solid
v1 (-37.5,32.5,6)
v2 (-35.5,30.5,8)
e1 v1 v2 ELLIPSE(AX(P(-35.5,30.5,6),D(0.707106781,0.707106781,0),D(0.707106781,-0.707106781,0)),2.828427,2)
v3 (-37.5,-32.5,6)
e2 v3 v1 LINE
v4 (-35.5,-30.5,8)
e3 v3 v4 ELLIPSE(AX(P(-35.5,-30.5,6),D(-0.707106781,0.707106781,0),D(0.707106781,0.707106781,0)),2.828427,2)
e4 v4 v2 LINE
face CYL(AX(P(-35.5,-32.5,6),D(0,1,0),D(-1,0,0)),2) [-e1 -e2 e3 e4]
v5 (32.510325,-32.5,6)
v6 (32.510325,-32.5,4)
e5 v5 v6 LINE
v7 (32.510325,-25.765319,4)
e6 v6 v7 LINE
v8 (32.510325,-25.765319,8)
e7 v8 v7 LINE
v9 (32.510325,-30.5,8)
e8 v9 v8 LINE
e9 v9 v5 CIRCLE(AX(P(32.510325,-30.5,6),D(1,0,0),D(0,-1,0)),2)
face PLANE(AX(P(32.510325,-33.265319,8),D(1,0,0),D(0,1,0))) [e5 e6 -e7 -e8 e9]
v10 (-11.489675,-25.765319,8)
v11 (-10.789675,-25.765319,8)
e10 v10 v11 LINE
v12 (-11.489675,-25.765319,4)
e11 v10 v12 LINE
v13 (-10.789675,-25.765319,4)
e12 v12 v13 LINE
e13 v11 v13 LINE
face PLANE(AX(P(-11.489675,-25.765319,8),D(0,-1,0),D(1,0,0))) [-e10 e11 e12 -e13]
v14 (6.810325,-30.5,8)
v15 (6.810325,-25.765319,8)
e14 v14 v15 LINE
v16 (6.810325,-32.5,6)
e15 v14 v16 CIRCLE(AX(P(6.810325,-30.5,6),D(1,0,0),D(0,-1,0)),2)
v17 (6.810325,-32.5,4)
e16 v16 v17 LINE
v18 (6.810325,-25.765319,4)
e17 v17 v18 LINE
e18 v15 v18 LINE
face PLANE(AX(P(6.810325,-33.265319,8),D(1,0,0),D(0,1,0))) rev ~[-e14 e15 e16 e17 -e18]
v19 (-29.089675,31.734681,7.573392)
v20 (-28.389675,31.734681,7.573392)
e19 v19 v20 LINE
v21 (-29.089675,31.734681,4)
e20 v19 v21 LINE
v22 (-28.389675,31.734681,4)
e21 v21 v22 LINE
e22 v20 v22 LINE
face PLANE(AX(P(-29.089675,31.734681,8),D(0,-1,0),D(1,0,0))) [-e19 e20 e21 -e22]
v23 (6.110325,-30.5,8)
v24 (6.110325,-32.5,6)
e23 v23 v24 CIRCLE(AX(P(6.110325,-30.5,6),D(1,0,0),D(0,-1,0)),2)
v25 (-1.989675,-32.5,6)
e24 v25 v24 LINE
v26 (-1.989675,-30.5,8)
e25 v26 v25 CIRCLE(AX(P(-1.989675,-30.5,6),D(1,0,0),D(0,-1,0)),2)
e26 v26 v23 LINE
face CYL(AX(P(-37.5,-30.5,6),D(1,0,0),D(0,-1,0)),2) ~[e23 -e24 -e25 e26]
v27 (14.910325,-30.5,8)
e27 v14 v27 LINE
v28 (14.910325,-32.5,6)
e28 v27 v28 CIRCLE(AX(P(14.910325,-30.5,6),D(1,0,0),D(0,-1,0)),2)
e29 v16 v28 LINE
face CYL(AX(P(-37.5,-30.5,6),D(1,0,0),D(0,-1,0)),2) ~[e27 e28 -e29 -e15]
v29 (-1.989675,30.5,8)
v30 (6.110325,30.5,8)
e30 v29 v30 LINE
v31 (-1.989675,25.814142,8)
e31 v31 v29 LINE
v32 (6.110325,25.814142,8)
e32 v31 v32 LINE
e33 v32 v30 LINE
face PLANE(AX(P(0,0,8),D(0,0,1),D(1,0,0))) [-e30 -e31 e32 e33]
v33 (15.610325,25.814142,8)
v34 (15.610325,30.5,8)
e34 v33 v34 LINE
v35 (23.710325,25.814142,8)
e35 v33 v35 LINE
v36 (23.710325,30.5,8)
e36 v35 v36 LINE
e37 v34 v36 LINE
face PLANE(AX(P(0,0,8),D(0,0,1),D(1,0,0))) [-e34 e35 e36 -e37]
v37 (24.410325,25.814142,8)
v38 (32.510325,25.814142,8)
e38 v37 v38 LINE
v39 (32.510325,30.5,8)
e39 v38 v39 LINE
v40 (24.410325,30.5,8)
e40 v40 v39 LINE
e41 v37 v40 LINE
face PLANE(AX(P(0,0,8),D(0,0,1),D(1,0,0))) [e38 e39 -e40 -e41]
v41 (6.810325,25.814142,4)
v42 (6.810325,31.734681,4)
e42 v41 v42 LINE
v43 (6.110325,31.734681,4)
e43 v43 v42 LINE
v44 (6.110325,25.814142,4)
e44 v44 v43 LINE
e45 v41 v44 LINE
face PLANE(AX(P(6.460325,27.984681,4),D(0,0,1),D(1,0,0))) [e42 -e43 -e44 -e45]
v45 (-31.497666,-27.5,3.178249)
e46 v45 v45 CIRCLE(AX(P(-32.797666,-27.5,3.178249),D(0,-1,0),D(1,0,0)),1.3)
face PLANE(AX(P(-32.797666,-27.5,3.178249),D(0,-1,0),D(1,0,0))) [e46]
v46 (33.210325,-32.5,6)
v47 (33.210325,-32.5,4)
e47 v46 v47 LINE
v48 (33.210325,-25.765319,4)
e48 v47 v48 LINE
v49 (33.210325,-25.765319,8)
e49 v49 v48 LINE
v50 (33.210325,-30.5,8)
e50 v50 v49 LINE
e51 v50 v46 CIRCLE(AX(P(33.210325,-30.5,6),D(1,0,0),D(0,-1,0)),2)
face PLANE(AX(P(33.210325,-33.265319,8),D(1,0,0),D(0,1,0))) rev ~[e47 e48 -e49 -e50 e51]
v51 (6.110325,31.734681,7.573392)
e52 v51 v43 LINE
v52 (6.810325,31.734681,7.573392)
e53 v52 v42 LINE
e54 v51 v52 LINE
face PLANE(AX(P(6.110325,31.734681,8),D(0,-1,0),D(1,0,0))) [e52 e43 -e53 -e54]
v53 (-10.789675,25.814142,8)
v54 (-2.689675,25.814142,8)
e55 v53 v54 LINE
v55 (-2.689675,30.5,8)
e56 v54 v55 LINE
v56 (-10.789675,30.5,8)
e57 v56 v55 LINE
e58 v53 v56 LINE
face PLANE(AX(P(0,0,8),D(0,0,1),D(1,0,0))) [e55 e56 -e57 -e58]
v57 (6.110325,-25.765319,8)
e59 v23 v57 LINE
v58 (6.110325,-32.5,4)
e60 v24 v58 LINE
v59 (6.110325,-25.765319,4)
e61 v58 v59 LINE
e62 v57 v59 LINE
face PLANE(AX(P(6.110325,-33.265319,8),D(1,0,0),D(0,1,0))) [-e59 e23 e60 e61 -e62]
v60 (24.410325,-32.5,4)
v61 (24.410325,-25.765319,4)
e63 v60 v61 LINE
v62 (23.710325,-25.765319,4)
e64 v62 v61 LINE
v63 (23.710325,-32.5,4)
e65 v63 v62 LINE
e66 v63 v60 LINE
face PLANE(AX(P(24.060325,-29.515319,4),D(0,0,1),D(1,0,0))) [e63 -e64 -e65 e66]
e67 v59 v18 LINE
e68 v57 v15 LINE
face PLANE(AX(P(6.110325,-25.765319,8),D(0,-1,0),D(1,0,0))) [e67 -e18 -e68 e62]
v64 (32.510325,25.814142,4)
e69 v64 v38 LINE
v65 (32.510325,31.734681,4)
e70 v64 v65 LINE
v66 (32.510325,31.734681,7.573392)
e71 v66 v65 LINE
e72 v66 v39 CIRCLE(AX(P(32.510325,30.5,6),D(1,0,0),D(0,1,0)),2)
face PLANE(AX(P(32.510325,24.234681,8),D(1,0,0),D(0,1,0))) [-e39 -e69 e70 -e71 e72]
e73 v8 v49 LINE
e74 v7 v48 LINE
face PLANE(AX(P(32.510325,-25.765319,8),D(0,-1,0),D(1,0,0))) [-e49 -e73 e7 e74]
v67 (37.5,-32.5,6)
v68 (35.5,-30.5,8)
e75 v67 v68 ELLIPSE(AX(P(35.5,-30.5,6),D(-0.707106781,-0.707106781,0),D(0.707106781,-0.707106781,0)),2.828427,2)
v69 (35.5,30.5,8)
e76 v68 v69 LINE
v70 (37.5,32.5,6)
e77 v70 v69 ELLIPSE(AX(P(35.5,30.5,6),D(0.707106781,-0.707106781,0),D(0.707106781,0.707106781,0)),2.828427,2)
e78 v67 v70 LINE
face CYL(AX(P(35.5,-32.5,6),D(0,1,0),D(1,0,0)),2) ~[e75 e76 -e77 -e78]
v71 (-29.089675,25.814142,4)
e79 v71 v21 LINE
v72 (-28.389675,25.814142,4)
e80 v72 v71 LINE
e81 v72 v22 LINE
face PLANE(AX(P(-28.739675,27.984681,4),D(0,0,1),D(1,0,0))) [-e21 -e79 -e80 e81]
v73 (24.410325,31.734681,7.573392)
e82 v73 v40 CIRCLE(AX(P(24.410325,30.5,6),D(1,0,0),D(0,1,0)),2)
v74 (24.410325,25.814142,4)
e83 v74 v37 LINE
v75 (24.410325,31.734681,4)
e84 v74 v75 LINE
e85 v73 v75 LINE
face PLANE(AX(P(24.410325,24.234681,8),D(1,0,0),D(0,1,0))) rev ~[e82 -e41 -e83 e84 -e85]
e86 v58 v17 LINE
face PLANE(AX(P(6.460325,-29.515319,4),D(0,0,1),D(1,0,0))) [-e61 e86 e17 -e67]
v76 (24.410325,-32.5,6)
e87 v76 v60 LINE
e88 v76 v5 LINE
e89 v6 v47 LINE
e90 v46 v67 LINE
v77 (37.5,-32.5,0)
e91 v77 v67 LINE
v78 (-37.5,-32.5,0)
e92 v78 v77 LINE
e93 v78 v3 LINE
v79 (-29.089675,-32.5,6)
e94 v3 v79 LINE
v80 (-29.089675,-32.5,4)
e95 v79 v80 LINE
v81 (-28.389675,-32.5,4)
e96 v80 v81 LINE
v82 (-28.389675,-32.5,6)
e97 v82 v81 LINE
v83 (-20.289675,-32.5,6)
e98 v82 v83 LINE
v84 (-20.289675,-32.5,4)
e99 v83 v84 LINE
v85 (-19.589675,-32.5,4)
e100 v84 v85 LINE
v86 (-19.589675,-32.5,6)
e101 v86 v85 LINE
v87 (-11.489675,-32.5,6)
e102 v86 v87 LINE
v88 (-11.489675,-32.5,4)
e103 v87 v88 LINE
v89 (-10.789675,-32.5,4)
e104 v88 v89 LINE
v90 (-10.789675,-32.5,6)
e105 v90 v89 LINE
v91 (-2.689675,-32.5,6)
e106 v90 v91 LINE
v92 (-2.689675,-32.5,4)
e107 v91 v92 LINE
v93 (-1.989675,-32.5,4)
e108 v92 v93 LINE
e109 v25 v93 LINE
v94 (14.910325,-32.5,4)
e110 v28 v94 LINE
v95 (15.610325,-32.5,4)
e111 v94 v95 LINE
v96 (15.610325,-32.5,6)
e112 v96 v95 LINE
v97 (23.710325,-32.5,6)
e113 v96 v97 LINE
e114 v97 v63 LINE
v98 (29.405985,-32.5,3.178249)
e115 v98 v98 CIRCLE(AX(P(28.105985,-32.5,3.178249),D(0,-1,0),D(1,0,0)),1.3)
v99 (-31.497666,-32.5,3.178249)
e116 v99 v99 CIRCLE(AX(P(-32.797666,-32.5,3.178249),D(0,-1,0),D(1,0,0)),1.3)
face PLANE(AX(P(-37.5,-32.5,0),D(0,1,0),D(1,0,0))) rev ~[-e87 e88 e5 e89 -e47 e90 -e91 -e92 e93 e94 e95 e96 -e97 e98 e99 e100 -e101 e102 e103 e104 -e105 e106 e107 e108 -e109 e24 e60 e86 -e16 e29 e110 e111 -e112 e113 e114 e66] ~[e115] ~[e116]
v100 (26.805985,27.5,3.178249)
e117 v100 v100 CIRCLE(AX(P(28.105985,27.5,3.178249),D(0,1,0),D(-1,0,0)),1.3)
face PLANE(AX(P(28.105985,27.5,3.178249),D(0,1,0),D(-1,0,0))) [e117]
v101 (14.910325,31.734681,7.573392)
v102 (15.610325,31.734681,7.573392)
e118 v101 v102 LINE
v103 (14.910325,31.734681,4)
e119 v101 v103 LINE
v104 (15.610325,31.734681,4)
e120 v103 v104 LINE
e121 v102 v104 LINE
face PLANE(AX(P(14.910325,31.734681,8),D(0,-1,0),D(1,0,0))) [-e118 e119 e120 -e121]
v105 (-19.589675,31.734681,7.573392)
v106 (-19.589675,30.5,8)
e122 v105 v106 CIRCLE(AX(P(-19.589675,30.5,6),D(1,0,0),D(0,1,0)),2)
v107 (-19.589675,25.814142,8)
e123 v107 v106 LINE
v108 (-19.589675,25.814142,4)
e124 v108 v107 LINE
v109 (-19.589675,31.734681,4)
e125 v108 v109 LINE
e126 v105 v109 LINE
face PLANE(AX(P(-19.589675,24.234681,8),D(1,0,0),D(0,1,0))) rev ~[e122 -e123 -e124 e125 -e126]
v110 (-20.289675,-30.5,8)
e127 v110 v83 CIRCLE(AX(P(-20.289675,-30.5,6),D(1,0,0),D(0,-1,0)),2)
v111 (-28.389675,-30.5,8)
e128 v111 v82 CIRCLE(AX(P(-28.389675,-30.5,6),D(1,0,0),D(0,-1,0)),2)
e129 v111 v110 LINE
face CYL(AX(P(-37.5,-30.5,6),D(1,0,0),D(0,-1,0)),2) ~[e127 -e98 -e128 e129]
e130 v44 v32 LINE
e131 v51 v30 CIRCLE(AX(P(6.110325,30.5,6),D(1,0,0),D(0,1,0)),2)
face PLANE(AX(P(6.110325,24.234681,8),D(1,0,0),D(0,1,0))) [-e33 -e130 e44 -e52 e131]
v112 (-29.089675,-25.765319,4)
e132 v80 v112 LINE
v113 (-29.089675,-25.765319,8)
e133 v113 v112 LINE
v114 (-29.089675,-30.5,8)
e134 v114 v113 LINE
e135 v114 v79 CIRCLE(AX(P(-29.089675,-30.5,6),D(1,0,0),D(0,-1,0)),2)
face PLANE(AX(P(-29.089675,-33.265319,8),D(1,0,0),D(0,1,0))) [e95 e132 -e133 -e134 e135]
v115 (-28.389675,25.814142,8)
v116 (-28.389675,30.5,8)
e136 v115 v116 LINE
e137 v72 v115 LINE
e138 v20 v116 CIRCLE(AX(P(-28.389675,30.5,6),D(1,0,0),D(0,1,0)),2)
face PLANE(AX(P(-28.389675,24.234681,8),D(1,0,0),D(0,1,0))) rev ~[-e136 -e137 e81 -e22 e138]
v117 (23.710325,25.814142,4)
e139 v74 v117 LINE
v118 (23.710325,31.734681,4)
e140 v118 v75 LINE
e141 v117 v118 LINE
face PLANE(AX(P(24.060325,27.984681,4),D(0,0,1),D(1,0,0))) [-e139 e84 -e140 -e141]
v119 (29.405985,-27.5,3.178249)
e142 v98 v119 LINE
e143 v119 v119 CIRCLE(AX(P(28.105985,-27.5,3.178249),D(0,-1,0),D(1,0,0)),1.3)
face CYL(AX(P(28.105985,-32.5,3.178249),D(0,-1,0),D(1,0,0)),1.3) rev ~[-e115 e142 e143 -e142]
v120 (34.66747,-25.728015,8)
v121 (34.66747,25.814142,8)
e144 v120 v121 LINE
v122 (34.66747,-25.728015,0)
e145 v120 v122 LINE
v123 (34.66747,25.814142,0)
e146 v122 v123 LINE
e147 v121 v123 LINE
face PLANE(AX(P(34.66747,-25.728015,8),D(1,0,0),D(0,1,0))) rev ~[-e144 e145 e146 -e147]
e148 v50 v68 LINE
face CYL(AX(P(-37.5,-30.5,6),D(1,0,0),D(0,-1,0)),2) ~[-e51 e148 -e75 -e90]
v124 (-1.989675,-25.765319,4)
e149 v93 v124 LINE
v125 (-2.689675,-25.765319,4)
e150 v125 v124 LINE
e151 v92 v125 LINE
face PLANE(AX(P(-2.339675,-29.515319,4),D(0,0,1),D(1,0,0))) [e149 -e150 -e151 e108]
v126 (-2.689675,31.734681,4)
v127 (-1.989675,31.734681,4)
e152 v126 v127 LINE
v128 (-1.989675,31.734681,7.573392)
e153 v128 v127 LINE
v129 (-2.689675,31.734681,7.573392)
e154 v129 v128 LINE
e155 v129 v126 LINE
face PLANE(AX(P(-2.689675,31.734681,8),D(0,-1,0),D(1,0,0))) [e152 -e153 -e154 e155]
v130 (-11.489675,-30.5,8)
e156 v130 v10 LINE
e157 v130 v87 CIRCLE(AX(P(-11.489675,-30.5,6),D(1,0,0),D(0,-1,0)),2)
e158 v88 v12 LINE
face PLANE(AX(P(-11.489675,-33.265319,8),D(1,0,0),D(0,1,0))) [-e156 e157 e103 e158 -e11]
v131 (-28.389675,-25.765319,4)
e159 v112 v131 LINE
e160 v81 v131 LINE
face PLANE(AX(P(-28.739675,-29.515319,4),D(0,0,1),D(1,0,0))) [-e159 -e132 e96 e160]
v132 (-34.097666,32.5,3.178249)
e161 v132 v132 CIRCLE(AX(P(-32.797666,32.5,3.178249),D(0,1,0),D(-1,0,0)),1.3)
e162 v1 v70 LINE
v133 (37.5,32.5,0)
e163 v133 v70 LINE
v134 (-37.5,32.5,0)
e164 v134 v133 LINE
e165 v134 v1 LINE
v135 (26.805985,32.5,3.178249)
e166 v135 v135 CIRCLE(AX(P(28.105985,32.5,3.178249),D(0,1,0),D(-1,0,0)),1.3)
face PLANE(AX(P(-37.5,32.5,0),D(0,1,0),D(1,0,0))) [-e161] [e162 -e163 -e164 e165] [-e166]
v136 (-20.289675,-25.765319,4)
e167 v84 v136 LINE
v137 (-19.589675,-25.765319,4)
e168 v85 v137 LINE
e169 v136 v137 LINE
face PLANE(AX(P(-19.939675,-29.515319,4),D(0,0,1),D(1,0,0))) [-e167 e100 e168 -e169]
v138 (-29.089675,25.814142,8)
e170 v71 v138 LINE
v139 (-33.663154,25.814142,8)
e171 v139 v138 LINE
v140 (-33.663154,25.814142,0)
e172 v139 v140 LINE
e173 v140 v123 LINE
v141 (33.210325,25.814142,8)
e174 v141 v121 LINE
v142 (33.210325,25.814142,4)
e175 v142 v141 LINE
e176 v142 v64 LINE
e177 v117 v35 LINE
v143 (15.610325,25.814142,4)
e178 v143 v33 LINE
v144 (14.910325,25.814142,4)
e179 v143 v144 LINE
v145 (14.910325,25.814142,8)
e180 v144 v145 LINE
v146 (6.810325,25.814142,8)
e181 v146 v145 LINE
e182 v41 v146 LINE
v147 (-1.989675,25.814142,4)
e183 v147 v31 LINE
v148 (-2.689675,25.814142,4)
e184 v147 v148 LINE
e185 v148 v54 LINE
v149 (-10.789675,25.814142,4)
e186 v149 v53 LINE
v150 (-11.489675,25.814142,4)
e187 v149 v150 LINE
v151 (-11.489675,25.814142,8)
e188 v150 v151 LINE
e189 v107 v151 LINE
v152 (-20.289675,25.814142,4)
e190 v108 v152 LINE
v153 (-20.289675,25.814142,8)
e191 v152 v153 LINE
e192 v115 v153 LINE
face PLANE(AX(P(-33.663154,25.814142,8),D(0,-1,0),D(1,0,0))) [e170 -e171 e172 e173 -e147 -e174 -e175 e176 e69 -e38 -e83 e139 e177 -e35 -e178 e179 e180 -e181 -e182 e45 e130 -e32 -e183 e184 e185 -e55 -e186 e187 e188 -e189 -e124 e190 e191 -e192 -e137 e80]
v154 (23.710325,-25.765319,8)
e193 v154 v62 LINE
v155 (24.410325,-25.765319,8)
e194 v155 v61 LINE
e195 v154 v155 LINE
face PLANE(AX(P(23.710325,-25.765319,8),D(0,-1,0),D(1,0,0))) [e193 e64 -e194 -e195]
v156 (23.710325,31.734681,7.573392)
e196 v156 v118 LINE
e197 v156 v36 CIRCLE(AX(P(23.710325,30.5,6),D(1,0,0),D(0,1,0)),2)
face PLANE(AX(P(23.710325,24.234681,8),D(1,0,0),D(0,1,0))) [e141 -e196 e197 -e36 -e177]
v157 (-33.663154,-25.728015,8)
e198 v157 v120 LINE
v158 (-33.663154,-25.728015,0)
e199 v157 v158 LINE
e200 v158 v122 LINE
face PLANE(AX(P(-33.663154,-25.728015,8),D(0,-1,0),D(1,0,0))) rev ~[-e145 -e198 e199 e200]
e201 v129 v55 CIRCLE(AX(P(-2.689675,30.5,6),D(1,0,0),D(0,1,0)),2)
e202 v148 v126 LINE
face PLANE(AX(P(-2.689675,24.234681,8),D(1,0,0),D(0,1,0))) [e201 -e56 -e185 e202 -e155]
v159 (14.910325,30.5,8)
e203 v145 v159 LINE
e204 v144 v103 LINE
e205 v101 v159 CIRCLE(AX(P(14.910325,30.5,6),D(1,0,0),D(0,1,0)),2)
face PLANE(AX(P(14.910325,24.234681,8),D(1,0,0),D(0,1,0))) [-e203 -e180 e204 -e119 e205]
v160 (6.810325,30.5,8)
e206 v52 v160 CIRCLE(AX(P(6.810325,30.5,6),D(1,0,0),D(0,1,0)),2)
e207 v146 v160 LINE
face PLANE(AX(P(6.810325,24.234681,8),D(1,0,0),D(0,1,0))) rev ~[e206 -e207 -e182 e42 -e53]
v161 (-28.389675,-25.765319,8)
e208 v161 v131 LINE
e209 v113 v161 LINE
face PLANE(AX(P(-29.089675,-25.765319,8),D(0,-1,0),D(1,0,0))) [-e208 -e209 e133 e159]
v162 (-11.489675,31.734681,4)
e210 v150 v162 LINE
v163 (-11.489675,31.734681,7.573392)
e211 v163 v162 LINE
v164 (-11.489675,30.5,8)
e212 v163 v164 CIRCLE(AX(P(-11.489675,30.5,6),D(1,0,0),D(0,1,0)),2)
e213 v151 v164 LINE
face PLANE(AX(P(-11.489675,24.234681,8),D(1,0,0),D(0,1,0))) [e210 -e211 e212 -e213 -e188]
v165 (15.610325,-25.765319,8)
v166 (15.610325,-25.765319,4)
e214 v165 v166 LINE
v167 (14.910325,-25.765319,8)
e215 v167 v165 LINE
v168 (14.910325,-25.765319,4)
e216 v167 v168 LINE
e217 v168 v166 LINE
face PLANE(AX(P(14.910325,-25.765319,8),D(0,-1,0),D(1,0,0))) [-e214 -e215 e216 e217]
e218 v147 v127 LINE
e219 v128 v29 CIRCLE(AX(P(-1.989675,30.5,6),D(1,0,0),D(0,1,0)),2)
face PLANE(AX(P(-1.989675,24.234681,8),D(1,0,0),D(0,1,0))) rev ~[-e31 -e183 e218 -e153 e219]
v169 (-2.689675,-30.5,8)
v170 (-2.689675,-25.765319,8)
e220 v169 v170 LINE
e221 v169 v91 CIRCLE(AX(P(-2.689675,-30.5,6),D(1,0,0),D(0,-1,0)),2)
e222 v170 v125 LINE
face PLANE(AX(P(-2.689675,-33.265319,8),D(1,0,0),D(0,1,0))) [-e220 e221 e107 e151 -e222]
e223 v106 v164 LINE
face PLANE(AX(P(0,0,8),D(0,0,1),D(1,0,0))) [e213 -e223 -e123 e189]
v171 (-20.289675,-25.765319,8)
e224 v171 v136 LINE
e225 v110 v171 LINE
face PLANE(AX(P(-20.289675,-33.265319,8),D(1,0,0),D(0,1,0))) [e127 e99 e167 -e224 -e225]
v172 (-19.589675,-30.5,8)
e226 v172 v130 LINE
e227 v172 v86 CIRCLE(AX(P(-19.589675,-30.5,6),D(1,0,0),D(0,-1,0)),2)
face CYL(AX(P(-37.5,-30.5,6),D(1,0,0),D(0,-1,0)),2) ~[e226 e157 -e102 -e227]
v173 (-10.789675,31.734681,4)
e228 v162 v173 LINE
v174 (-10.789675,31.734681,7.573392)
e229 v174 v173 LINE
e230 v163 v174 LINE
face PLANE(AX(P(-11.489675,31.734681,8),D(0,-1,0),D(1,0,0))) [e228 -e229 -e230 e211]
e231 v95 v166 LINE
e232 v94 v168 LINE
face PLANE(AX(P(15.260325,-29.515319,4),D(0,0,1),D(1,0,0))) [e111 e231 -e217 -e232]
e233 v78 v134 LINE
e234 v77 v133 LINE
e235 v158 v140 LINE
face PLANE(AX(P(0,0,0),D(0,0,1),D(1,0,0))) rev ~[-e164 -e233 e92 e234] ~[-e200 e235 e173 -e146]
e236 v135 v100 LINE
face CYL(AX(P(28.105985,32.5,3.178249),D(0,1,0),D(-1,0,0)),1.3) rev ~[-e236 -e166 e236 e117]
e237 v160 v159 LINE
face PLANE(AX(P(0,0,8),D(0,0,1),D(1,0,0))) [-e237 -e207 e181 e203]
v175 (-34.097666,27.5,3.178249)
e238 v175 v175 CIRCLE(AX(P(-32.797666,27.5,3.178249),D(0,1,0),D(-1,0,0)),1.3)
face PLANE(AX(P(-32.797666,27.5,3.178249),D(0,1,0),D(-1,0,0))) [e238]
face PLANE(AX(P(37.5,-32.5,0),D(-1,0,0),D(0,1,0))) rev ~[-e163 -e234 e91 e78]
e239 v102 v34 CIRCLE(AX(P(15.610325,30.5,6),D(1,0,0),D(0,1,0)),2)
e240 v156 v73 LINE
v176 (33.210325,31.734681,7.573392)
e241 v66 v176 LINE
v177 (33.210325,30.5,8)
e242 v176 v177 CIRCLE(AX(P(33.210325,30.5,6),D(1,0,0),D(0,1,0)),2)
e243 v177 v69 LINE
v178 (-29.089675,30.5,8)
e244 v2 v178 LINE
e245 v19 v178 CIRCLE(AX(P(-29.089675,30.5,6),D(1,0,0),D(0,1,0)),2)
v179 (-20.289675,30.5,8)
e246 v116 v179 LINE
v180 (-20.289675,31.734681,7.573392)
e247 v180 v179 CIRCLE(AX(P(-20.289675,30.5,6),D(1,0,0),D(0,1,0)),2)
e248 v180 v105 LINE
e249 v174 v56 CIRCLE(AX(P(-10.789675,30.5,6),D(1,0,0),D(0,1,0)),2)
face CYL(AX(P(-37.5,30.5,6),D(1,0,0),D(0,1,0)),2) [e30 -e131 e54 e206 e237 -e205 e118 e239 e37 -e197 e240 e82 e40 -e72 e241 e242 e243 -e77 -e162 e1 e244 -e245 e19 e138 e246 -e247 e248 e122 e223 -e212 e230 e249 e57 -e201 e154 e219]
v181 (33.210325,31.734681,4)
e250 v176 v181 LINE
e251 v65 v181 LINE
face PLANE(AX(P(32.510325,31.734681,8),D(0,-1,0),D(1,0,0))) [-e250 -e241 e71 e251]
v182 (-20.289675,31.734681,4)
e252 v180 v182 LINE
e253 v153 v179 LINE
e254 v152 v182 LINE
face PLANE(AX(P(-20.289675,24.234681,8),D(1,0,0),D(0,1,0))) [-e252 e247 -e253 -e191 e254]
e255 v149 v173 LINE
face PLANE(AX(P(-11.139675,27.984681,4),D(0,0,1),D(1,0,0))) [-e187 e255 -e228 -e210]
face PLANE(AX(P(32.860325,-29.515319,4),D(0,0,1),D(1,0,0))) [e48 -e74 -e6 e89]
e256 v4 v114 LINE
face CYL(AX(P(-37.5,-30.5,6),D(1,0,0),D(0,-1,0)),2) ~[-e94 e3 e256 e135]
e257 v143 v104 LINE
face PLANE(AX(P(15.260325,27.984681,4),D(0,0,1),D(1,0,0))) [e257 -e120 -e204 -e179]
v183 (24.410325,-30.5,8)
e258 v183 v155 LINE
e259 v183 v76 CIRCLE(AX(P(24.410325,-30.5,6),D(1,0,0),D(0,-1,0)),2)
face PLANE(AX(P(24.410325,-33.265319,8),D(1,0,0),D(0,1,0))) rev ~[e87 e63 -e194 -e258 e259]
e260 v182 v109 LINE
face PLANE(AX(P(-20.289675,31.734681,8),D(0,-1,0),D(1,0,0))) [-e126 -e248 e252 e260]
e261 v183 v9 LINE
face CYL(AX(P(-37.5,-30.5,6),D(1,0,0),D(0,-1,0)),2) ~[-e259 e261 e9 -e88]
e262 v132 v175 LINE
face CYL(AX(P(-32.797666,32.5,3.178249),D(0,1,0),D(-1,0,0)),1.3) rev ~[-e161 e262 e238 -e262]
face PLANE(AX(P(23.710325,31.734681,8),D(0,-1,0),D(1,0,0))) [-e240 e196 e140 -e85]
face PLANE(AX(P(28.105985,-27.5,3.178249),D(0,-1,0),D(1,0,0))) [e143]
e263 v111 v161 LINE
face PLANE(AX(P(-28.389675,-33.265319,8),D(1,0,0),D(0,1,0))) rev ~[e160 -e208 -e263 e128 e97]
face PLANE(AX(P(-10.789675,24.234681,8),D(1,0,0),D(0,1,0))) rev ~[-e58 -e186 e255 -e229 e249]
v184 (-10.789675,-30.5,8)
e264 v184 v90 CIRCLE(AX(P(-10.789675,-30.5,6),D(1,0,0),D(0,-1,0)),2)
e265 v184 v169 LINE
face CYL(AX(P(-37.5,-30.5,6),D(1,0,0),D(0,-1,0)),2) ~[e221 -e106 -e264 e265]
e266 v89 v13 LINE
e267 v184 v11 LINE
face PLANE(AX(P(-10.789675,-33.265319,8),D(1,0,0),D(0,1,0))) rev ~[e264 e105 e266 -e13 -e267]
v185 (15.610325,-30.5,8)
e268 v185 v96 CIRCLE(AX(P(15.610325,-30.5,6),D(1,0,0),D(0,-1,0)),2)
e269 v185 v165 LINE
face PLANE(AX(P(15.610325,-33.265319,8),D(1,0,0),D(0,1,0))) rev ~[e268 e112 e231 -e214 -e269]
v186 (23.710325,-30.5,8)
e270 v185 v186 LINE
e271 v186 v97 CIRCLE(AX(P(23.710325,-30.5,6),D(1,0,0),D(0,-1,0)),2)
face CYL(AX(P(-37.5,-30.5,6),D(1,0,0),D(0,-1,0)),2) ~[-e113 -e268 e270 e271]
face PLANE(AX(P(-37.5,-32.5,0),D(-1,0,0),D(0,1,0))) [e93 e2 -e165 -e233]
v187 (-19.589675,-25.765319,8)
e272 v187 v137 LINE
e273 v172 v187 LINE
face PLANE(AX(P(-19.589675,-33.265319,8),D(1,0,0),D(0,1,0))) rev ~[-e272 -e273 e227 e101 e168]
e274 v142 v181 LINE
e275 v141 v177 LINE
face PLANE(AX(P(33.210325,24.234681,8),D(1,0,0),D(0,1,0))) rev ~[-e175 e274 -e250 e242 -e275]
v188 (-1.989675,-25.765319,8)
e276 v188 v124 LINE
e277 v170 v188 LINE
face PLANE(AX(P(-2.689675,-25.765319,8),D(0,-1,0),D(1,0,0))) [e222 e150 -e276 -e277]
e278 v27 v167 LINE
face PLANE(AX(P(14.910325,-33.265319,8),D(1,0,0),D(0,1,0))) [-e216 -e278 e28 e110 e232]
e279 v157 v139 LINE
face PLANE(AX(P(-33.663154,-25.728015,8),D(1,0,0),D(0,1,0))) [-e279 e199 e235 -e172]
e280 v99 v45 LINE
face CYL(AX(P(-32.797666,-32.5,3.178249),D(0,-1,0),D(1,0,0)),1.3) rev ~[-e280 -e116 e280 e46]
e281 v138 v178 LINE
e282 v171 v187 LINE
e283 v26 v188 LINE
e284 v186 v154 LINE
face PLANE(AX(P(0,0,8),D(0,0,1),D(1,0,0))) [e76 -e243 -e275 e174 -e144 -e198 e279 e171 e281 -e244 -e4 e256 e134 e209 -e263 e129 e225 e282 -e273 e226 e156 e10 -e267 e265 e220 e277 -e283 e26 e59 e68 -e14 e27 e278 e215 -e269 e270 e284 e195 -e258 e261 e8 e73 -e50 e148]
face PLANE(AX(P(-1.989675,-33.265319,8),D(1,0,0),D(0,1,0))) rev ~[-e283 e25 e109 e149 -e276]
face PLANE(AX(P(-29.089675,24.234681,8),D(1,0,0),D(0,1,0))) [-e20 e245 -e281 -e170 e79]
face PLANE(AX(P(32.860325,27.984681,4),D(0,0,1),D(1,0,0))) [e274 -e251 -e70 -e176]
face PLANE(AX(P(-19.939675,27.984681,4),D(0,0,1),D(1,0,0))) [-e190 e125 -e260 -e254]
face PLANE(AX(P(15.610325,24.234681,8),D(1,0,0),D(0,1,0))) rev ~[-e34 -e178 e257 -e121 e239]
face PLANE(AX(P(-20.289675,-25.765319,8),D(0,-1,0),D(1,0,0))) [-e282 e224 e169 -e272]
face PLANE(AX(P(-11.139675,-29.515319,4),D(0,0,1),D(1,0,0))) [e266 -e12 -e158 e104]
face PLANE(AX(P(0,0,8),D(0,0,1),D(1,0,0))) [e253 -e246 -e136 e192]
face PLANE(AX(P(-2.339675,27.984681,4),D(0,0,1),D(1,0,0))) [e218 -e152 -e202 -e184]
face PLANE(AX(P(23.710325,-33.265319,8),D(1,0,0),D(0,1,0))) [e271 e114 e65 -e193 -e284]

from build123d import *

# Parameters (mm, degrees)
F0_W      = 75
F0_H      = 65
F1_DEPTH  = 8
F2_R      = 2
F3_W      = 68.330624
F3_H      = 51.542157
F4_DEPTH  = 8.001
F5_W      = 0.7
F5_H      = 7.5
F6_DEPTH  = 4
F7_R      = 1.3
F9_DEPTH  = 5
F8_R      = 1.3
F10_DEPTH = 5


with BuildPart() as f1:
    # F0 (on Top) → F1 (new body)
    with BuildSketch(Plane.XY):
        Rectangle(F0_W, F0_H)
    extrude(amount=F1_DEPTH)

    # F2
    f2_edges = [f1.edges().sort_by_distance(p)[0] for p in [
        (0, -32.5, 8),
        (37.5, 0, 8),
        (0, 32.5, 8),
        (-37.5, 0, 8),
    ]]
    fillet(f2_edges, radius=F2_R)

    # F3 (on face) → F4 (cut, through all)
    with BuildSketch(Plane.XY.offset(8)):
        with Locations((0.502158, 0.043064)):
            Rectangle(F3_W, F3_H)
    extrude(amount=-F4_DEPTH, mode=Mode.SUBTRACT)

    # F5 (on face) → F6 (cut)
    with BuildSketch(Plane.XY.offset(8)):
        with Locations((-28.739675, 27.984681)):
            Rectangle(F5_W, F5_H)
        with Locations((-28.739675, -29.515319)):
            Rectangle(F5_W, F5_H)
        with Locations((-19.939675, 27.984681)):
            Rectangle(F5_W, F5_H)
        with Locations((-19.939675, -29.515319)):
            Rectangle(F5_W, F5_H)
        with Locations((-11.139675, 27.984681)):
            Rectangle(F5_W, F5_H)
        with Locations((-11.139675, -29.515319)):
            Rectangle(F5_W, F5_H)
        with Locations((-2.339675, 27.984681)):
            Rectangle(F5_W, F5_H)
        with Locations((-2.339675, -29.515319)):
            Rectangle(F5_W, F5_H)
        with Locations((6.460325, 27.984681)):
            Rectangle(F5_W, F5_H)
        with Locations((6.460325, -29.515319)):
            Rectangle(F5_W, F5_H)
        with Locations((15.260325, 27.984681)):
            Rectangle(F5_W, F5_H)
        with Locations((15.260325, -29.515319)):
            Rectangle(F5_W, F5_H)
        with Locations((24.060325, 27.984681)):
            Rectangle(F5_W, F5_H)
        with Locations((24.060325, -29.515319)):
            Rectangle(F5_W, F5_H)
        with Locations((32.860325, 27.984681)):
            Rectangle(F5_W, F5_H)
        with Locations((32.860325, -29.515319)):
            Rectangle(F5_W, F5_H)
    extrude(amount=-F6_DEPTH, mode=Mode.SUBTRACT)

    # F7 (on face) → F9 (cut)
    with BuildSketch(Plane.XZ.offset(32.5)):
        with Locations((-32.797666, 3.178249)):
            Circle(F7_R)
        with Locations((28.105985, 3.178249)):
            Circle(F7_R)
    extrude(amount=-F9_DEPTH, mode=Mode.SUBTRACT)

    # F8 (on face) → F10 (cut)
    with BuildSketch(Plane(origin=(0, 32.5, 0), x_dir=(-1, 0, 0), z_dir=(0, 1, 0))):
        with Locations((32.797666, 3.178249)):
            Circle(F8_R)
        with Locations((-28.105985, 3.178249)):
            Circle(F8_R)
    extrude(amount=-F10_DEPTH, mode=Mode.SUBTRACT)


solid = f1.part
